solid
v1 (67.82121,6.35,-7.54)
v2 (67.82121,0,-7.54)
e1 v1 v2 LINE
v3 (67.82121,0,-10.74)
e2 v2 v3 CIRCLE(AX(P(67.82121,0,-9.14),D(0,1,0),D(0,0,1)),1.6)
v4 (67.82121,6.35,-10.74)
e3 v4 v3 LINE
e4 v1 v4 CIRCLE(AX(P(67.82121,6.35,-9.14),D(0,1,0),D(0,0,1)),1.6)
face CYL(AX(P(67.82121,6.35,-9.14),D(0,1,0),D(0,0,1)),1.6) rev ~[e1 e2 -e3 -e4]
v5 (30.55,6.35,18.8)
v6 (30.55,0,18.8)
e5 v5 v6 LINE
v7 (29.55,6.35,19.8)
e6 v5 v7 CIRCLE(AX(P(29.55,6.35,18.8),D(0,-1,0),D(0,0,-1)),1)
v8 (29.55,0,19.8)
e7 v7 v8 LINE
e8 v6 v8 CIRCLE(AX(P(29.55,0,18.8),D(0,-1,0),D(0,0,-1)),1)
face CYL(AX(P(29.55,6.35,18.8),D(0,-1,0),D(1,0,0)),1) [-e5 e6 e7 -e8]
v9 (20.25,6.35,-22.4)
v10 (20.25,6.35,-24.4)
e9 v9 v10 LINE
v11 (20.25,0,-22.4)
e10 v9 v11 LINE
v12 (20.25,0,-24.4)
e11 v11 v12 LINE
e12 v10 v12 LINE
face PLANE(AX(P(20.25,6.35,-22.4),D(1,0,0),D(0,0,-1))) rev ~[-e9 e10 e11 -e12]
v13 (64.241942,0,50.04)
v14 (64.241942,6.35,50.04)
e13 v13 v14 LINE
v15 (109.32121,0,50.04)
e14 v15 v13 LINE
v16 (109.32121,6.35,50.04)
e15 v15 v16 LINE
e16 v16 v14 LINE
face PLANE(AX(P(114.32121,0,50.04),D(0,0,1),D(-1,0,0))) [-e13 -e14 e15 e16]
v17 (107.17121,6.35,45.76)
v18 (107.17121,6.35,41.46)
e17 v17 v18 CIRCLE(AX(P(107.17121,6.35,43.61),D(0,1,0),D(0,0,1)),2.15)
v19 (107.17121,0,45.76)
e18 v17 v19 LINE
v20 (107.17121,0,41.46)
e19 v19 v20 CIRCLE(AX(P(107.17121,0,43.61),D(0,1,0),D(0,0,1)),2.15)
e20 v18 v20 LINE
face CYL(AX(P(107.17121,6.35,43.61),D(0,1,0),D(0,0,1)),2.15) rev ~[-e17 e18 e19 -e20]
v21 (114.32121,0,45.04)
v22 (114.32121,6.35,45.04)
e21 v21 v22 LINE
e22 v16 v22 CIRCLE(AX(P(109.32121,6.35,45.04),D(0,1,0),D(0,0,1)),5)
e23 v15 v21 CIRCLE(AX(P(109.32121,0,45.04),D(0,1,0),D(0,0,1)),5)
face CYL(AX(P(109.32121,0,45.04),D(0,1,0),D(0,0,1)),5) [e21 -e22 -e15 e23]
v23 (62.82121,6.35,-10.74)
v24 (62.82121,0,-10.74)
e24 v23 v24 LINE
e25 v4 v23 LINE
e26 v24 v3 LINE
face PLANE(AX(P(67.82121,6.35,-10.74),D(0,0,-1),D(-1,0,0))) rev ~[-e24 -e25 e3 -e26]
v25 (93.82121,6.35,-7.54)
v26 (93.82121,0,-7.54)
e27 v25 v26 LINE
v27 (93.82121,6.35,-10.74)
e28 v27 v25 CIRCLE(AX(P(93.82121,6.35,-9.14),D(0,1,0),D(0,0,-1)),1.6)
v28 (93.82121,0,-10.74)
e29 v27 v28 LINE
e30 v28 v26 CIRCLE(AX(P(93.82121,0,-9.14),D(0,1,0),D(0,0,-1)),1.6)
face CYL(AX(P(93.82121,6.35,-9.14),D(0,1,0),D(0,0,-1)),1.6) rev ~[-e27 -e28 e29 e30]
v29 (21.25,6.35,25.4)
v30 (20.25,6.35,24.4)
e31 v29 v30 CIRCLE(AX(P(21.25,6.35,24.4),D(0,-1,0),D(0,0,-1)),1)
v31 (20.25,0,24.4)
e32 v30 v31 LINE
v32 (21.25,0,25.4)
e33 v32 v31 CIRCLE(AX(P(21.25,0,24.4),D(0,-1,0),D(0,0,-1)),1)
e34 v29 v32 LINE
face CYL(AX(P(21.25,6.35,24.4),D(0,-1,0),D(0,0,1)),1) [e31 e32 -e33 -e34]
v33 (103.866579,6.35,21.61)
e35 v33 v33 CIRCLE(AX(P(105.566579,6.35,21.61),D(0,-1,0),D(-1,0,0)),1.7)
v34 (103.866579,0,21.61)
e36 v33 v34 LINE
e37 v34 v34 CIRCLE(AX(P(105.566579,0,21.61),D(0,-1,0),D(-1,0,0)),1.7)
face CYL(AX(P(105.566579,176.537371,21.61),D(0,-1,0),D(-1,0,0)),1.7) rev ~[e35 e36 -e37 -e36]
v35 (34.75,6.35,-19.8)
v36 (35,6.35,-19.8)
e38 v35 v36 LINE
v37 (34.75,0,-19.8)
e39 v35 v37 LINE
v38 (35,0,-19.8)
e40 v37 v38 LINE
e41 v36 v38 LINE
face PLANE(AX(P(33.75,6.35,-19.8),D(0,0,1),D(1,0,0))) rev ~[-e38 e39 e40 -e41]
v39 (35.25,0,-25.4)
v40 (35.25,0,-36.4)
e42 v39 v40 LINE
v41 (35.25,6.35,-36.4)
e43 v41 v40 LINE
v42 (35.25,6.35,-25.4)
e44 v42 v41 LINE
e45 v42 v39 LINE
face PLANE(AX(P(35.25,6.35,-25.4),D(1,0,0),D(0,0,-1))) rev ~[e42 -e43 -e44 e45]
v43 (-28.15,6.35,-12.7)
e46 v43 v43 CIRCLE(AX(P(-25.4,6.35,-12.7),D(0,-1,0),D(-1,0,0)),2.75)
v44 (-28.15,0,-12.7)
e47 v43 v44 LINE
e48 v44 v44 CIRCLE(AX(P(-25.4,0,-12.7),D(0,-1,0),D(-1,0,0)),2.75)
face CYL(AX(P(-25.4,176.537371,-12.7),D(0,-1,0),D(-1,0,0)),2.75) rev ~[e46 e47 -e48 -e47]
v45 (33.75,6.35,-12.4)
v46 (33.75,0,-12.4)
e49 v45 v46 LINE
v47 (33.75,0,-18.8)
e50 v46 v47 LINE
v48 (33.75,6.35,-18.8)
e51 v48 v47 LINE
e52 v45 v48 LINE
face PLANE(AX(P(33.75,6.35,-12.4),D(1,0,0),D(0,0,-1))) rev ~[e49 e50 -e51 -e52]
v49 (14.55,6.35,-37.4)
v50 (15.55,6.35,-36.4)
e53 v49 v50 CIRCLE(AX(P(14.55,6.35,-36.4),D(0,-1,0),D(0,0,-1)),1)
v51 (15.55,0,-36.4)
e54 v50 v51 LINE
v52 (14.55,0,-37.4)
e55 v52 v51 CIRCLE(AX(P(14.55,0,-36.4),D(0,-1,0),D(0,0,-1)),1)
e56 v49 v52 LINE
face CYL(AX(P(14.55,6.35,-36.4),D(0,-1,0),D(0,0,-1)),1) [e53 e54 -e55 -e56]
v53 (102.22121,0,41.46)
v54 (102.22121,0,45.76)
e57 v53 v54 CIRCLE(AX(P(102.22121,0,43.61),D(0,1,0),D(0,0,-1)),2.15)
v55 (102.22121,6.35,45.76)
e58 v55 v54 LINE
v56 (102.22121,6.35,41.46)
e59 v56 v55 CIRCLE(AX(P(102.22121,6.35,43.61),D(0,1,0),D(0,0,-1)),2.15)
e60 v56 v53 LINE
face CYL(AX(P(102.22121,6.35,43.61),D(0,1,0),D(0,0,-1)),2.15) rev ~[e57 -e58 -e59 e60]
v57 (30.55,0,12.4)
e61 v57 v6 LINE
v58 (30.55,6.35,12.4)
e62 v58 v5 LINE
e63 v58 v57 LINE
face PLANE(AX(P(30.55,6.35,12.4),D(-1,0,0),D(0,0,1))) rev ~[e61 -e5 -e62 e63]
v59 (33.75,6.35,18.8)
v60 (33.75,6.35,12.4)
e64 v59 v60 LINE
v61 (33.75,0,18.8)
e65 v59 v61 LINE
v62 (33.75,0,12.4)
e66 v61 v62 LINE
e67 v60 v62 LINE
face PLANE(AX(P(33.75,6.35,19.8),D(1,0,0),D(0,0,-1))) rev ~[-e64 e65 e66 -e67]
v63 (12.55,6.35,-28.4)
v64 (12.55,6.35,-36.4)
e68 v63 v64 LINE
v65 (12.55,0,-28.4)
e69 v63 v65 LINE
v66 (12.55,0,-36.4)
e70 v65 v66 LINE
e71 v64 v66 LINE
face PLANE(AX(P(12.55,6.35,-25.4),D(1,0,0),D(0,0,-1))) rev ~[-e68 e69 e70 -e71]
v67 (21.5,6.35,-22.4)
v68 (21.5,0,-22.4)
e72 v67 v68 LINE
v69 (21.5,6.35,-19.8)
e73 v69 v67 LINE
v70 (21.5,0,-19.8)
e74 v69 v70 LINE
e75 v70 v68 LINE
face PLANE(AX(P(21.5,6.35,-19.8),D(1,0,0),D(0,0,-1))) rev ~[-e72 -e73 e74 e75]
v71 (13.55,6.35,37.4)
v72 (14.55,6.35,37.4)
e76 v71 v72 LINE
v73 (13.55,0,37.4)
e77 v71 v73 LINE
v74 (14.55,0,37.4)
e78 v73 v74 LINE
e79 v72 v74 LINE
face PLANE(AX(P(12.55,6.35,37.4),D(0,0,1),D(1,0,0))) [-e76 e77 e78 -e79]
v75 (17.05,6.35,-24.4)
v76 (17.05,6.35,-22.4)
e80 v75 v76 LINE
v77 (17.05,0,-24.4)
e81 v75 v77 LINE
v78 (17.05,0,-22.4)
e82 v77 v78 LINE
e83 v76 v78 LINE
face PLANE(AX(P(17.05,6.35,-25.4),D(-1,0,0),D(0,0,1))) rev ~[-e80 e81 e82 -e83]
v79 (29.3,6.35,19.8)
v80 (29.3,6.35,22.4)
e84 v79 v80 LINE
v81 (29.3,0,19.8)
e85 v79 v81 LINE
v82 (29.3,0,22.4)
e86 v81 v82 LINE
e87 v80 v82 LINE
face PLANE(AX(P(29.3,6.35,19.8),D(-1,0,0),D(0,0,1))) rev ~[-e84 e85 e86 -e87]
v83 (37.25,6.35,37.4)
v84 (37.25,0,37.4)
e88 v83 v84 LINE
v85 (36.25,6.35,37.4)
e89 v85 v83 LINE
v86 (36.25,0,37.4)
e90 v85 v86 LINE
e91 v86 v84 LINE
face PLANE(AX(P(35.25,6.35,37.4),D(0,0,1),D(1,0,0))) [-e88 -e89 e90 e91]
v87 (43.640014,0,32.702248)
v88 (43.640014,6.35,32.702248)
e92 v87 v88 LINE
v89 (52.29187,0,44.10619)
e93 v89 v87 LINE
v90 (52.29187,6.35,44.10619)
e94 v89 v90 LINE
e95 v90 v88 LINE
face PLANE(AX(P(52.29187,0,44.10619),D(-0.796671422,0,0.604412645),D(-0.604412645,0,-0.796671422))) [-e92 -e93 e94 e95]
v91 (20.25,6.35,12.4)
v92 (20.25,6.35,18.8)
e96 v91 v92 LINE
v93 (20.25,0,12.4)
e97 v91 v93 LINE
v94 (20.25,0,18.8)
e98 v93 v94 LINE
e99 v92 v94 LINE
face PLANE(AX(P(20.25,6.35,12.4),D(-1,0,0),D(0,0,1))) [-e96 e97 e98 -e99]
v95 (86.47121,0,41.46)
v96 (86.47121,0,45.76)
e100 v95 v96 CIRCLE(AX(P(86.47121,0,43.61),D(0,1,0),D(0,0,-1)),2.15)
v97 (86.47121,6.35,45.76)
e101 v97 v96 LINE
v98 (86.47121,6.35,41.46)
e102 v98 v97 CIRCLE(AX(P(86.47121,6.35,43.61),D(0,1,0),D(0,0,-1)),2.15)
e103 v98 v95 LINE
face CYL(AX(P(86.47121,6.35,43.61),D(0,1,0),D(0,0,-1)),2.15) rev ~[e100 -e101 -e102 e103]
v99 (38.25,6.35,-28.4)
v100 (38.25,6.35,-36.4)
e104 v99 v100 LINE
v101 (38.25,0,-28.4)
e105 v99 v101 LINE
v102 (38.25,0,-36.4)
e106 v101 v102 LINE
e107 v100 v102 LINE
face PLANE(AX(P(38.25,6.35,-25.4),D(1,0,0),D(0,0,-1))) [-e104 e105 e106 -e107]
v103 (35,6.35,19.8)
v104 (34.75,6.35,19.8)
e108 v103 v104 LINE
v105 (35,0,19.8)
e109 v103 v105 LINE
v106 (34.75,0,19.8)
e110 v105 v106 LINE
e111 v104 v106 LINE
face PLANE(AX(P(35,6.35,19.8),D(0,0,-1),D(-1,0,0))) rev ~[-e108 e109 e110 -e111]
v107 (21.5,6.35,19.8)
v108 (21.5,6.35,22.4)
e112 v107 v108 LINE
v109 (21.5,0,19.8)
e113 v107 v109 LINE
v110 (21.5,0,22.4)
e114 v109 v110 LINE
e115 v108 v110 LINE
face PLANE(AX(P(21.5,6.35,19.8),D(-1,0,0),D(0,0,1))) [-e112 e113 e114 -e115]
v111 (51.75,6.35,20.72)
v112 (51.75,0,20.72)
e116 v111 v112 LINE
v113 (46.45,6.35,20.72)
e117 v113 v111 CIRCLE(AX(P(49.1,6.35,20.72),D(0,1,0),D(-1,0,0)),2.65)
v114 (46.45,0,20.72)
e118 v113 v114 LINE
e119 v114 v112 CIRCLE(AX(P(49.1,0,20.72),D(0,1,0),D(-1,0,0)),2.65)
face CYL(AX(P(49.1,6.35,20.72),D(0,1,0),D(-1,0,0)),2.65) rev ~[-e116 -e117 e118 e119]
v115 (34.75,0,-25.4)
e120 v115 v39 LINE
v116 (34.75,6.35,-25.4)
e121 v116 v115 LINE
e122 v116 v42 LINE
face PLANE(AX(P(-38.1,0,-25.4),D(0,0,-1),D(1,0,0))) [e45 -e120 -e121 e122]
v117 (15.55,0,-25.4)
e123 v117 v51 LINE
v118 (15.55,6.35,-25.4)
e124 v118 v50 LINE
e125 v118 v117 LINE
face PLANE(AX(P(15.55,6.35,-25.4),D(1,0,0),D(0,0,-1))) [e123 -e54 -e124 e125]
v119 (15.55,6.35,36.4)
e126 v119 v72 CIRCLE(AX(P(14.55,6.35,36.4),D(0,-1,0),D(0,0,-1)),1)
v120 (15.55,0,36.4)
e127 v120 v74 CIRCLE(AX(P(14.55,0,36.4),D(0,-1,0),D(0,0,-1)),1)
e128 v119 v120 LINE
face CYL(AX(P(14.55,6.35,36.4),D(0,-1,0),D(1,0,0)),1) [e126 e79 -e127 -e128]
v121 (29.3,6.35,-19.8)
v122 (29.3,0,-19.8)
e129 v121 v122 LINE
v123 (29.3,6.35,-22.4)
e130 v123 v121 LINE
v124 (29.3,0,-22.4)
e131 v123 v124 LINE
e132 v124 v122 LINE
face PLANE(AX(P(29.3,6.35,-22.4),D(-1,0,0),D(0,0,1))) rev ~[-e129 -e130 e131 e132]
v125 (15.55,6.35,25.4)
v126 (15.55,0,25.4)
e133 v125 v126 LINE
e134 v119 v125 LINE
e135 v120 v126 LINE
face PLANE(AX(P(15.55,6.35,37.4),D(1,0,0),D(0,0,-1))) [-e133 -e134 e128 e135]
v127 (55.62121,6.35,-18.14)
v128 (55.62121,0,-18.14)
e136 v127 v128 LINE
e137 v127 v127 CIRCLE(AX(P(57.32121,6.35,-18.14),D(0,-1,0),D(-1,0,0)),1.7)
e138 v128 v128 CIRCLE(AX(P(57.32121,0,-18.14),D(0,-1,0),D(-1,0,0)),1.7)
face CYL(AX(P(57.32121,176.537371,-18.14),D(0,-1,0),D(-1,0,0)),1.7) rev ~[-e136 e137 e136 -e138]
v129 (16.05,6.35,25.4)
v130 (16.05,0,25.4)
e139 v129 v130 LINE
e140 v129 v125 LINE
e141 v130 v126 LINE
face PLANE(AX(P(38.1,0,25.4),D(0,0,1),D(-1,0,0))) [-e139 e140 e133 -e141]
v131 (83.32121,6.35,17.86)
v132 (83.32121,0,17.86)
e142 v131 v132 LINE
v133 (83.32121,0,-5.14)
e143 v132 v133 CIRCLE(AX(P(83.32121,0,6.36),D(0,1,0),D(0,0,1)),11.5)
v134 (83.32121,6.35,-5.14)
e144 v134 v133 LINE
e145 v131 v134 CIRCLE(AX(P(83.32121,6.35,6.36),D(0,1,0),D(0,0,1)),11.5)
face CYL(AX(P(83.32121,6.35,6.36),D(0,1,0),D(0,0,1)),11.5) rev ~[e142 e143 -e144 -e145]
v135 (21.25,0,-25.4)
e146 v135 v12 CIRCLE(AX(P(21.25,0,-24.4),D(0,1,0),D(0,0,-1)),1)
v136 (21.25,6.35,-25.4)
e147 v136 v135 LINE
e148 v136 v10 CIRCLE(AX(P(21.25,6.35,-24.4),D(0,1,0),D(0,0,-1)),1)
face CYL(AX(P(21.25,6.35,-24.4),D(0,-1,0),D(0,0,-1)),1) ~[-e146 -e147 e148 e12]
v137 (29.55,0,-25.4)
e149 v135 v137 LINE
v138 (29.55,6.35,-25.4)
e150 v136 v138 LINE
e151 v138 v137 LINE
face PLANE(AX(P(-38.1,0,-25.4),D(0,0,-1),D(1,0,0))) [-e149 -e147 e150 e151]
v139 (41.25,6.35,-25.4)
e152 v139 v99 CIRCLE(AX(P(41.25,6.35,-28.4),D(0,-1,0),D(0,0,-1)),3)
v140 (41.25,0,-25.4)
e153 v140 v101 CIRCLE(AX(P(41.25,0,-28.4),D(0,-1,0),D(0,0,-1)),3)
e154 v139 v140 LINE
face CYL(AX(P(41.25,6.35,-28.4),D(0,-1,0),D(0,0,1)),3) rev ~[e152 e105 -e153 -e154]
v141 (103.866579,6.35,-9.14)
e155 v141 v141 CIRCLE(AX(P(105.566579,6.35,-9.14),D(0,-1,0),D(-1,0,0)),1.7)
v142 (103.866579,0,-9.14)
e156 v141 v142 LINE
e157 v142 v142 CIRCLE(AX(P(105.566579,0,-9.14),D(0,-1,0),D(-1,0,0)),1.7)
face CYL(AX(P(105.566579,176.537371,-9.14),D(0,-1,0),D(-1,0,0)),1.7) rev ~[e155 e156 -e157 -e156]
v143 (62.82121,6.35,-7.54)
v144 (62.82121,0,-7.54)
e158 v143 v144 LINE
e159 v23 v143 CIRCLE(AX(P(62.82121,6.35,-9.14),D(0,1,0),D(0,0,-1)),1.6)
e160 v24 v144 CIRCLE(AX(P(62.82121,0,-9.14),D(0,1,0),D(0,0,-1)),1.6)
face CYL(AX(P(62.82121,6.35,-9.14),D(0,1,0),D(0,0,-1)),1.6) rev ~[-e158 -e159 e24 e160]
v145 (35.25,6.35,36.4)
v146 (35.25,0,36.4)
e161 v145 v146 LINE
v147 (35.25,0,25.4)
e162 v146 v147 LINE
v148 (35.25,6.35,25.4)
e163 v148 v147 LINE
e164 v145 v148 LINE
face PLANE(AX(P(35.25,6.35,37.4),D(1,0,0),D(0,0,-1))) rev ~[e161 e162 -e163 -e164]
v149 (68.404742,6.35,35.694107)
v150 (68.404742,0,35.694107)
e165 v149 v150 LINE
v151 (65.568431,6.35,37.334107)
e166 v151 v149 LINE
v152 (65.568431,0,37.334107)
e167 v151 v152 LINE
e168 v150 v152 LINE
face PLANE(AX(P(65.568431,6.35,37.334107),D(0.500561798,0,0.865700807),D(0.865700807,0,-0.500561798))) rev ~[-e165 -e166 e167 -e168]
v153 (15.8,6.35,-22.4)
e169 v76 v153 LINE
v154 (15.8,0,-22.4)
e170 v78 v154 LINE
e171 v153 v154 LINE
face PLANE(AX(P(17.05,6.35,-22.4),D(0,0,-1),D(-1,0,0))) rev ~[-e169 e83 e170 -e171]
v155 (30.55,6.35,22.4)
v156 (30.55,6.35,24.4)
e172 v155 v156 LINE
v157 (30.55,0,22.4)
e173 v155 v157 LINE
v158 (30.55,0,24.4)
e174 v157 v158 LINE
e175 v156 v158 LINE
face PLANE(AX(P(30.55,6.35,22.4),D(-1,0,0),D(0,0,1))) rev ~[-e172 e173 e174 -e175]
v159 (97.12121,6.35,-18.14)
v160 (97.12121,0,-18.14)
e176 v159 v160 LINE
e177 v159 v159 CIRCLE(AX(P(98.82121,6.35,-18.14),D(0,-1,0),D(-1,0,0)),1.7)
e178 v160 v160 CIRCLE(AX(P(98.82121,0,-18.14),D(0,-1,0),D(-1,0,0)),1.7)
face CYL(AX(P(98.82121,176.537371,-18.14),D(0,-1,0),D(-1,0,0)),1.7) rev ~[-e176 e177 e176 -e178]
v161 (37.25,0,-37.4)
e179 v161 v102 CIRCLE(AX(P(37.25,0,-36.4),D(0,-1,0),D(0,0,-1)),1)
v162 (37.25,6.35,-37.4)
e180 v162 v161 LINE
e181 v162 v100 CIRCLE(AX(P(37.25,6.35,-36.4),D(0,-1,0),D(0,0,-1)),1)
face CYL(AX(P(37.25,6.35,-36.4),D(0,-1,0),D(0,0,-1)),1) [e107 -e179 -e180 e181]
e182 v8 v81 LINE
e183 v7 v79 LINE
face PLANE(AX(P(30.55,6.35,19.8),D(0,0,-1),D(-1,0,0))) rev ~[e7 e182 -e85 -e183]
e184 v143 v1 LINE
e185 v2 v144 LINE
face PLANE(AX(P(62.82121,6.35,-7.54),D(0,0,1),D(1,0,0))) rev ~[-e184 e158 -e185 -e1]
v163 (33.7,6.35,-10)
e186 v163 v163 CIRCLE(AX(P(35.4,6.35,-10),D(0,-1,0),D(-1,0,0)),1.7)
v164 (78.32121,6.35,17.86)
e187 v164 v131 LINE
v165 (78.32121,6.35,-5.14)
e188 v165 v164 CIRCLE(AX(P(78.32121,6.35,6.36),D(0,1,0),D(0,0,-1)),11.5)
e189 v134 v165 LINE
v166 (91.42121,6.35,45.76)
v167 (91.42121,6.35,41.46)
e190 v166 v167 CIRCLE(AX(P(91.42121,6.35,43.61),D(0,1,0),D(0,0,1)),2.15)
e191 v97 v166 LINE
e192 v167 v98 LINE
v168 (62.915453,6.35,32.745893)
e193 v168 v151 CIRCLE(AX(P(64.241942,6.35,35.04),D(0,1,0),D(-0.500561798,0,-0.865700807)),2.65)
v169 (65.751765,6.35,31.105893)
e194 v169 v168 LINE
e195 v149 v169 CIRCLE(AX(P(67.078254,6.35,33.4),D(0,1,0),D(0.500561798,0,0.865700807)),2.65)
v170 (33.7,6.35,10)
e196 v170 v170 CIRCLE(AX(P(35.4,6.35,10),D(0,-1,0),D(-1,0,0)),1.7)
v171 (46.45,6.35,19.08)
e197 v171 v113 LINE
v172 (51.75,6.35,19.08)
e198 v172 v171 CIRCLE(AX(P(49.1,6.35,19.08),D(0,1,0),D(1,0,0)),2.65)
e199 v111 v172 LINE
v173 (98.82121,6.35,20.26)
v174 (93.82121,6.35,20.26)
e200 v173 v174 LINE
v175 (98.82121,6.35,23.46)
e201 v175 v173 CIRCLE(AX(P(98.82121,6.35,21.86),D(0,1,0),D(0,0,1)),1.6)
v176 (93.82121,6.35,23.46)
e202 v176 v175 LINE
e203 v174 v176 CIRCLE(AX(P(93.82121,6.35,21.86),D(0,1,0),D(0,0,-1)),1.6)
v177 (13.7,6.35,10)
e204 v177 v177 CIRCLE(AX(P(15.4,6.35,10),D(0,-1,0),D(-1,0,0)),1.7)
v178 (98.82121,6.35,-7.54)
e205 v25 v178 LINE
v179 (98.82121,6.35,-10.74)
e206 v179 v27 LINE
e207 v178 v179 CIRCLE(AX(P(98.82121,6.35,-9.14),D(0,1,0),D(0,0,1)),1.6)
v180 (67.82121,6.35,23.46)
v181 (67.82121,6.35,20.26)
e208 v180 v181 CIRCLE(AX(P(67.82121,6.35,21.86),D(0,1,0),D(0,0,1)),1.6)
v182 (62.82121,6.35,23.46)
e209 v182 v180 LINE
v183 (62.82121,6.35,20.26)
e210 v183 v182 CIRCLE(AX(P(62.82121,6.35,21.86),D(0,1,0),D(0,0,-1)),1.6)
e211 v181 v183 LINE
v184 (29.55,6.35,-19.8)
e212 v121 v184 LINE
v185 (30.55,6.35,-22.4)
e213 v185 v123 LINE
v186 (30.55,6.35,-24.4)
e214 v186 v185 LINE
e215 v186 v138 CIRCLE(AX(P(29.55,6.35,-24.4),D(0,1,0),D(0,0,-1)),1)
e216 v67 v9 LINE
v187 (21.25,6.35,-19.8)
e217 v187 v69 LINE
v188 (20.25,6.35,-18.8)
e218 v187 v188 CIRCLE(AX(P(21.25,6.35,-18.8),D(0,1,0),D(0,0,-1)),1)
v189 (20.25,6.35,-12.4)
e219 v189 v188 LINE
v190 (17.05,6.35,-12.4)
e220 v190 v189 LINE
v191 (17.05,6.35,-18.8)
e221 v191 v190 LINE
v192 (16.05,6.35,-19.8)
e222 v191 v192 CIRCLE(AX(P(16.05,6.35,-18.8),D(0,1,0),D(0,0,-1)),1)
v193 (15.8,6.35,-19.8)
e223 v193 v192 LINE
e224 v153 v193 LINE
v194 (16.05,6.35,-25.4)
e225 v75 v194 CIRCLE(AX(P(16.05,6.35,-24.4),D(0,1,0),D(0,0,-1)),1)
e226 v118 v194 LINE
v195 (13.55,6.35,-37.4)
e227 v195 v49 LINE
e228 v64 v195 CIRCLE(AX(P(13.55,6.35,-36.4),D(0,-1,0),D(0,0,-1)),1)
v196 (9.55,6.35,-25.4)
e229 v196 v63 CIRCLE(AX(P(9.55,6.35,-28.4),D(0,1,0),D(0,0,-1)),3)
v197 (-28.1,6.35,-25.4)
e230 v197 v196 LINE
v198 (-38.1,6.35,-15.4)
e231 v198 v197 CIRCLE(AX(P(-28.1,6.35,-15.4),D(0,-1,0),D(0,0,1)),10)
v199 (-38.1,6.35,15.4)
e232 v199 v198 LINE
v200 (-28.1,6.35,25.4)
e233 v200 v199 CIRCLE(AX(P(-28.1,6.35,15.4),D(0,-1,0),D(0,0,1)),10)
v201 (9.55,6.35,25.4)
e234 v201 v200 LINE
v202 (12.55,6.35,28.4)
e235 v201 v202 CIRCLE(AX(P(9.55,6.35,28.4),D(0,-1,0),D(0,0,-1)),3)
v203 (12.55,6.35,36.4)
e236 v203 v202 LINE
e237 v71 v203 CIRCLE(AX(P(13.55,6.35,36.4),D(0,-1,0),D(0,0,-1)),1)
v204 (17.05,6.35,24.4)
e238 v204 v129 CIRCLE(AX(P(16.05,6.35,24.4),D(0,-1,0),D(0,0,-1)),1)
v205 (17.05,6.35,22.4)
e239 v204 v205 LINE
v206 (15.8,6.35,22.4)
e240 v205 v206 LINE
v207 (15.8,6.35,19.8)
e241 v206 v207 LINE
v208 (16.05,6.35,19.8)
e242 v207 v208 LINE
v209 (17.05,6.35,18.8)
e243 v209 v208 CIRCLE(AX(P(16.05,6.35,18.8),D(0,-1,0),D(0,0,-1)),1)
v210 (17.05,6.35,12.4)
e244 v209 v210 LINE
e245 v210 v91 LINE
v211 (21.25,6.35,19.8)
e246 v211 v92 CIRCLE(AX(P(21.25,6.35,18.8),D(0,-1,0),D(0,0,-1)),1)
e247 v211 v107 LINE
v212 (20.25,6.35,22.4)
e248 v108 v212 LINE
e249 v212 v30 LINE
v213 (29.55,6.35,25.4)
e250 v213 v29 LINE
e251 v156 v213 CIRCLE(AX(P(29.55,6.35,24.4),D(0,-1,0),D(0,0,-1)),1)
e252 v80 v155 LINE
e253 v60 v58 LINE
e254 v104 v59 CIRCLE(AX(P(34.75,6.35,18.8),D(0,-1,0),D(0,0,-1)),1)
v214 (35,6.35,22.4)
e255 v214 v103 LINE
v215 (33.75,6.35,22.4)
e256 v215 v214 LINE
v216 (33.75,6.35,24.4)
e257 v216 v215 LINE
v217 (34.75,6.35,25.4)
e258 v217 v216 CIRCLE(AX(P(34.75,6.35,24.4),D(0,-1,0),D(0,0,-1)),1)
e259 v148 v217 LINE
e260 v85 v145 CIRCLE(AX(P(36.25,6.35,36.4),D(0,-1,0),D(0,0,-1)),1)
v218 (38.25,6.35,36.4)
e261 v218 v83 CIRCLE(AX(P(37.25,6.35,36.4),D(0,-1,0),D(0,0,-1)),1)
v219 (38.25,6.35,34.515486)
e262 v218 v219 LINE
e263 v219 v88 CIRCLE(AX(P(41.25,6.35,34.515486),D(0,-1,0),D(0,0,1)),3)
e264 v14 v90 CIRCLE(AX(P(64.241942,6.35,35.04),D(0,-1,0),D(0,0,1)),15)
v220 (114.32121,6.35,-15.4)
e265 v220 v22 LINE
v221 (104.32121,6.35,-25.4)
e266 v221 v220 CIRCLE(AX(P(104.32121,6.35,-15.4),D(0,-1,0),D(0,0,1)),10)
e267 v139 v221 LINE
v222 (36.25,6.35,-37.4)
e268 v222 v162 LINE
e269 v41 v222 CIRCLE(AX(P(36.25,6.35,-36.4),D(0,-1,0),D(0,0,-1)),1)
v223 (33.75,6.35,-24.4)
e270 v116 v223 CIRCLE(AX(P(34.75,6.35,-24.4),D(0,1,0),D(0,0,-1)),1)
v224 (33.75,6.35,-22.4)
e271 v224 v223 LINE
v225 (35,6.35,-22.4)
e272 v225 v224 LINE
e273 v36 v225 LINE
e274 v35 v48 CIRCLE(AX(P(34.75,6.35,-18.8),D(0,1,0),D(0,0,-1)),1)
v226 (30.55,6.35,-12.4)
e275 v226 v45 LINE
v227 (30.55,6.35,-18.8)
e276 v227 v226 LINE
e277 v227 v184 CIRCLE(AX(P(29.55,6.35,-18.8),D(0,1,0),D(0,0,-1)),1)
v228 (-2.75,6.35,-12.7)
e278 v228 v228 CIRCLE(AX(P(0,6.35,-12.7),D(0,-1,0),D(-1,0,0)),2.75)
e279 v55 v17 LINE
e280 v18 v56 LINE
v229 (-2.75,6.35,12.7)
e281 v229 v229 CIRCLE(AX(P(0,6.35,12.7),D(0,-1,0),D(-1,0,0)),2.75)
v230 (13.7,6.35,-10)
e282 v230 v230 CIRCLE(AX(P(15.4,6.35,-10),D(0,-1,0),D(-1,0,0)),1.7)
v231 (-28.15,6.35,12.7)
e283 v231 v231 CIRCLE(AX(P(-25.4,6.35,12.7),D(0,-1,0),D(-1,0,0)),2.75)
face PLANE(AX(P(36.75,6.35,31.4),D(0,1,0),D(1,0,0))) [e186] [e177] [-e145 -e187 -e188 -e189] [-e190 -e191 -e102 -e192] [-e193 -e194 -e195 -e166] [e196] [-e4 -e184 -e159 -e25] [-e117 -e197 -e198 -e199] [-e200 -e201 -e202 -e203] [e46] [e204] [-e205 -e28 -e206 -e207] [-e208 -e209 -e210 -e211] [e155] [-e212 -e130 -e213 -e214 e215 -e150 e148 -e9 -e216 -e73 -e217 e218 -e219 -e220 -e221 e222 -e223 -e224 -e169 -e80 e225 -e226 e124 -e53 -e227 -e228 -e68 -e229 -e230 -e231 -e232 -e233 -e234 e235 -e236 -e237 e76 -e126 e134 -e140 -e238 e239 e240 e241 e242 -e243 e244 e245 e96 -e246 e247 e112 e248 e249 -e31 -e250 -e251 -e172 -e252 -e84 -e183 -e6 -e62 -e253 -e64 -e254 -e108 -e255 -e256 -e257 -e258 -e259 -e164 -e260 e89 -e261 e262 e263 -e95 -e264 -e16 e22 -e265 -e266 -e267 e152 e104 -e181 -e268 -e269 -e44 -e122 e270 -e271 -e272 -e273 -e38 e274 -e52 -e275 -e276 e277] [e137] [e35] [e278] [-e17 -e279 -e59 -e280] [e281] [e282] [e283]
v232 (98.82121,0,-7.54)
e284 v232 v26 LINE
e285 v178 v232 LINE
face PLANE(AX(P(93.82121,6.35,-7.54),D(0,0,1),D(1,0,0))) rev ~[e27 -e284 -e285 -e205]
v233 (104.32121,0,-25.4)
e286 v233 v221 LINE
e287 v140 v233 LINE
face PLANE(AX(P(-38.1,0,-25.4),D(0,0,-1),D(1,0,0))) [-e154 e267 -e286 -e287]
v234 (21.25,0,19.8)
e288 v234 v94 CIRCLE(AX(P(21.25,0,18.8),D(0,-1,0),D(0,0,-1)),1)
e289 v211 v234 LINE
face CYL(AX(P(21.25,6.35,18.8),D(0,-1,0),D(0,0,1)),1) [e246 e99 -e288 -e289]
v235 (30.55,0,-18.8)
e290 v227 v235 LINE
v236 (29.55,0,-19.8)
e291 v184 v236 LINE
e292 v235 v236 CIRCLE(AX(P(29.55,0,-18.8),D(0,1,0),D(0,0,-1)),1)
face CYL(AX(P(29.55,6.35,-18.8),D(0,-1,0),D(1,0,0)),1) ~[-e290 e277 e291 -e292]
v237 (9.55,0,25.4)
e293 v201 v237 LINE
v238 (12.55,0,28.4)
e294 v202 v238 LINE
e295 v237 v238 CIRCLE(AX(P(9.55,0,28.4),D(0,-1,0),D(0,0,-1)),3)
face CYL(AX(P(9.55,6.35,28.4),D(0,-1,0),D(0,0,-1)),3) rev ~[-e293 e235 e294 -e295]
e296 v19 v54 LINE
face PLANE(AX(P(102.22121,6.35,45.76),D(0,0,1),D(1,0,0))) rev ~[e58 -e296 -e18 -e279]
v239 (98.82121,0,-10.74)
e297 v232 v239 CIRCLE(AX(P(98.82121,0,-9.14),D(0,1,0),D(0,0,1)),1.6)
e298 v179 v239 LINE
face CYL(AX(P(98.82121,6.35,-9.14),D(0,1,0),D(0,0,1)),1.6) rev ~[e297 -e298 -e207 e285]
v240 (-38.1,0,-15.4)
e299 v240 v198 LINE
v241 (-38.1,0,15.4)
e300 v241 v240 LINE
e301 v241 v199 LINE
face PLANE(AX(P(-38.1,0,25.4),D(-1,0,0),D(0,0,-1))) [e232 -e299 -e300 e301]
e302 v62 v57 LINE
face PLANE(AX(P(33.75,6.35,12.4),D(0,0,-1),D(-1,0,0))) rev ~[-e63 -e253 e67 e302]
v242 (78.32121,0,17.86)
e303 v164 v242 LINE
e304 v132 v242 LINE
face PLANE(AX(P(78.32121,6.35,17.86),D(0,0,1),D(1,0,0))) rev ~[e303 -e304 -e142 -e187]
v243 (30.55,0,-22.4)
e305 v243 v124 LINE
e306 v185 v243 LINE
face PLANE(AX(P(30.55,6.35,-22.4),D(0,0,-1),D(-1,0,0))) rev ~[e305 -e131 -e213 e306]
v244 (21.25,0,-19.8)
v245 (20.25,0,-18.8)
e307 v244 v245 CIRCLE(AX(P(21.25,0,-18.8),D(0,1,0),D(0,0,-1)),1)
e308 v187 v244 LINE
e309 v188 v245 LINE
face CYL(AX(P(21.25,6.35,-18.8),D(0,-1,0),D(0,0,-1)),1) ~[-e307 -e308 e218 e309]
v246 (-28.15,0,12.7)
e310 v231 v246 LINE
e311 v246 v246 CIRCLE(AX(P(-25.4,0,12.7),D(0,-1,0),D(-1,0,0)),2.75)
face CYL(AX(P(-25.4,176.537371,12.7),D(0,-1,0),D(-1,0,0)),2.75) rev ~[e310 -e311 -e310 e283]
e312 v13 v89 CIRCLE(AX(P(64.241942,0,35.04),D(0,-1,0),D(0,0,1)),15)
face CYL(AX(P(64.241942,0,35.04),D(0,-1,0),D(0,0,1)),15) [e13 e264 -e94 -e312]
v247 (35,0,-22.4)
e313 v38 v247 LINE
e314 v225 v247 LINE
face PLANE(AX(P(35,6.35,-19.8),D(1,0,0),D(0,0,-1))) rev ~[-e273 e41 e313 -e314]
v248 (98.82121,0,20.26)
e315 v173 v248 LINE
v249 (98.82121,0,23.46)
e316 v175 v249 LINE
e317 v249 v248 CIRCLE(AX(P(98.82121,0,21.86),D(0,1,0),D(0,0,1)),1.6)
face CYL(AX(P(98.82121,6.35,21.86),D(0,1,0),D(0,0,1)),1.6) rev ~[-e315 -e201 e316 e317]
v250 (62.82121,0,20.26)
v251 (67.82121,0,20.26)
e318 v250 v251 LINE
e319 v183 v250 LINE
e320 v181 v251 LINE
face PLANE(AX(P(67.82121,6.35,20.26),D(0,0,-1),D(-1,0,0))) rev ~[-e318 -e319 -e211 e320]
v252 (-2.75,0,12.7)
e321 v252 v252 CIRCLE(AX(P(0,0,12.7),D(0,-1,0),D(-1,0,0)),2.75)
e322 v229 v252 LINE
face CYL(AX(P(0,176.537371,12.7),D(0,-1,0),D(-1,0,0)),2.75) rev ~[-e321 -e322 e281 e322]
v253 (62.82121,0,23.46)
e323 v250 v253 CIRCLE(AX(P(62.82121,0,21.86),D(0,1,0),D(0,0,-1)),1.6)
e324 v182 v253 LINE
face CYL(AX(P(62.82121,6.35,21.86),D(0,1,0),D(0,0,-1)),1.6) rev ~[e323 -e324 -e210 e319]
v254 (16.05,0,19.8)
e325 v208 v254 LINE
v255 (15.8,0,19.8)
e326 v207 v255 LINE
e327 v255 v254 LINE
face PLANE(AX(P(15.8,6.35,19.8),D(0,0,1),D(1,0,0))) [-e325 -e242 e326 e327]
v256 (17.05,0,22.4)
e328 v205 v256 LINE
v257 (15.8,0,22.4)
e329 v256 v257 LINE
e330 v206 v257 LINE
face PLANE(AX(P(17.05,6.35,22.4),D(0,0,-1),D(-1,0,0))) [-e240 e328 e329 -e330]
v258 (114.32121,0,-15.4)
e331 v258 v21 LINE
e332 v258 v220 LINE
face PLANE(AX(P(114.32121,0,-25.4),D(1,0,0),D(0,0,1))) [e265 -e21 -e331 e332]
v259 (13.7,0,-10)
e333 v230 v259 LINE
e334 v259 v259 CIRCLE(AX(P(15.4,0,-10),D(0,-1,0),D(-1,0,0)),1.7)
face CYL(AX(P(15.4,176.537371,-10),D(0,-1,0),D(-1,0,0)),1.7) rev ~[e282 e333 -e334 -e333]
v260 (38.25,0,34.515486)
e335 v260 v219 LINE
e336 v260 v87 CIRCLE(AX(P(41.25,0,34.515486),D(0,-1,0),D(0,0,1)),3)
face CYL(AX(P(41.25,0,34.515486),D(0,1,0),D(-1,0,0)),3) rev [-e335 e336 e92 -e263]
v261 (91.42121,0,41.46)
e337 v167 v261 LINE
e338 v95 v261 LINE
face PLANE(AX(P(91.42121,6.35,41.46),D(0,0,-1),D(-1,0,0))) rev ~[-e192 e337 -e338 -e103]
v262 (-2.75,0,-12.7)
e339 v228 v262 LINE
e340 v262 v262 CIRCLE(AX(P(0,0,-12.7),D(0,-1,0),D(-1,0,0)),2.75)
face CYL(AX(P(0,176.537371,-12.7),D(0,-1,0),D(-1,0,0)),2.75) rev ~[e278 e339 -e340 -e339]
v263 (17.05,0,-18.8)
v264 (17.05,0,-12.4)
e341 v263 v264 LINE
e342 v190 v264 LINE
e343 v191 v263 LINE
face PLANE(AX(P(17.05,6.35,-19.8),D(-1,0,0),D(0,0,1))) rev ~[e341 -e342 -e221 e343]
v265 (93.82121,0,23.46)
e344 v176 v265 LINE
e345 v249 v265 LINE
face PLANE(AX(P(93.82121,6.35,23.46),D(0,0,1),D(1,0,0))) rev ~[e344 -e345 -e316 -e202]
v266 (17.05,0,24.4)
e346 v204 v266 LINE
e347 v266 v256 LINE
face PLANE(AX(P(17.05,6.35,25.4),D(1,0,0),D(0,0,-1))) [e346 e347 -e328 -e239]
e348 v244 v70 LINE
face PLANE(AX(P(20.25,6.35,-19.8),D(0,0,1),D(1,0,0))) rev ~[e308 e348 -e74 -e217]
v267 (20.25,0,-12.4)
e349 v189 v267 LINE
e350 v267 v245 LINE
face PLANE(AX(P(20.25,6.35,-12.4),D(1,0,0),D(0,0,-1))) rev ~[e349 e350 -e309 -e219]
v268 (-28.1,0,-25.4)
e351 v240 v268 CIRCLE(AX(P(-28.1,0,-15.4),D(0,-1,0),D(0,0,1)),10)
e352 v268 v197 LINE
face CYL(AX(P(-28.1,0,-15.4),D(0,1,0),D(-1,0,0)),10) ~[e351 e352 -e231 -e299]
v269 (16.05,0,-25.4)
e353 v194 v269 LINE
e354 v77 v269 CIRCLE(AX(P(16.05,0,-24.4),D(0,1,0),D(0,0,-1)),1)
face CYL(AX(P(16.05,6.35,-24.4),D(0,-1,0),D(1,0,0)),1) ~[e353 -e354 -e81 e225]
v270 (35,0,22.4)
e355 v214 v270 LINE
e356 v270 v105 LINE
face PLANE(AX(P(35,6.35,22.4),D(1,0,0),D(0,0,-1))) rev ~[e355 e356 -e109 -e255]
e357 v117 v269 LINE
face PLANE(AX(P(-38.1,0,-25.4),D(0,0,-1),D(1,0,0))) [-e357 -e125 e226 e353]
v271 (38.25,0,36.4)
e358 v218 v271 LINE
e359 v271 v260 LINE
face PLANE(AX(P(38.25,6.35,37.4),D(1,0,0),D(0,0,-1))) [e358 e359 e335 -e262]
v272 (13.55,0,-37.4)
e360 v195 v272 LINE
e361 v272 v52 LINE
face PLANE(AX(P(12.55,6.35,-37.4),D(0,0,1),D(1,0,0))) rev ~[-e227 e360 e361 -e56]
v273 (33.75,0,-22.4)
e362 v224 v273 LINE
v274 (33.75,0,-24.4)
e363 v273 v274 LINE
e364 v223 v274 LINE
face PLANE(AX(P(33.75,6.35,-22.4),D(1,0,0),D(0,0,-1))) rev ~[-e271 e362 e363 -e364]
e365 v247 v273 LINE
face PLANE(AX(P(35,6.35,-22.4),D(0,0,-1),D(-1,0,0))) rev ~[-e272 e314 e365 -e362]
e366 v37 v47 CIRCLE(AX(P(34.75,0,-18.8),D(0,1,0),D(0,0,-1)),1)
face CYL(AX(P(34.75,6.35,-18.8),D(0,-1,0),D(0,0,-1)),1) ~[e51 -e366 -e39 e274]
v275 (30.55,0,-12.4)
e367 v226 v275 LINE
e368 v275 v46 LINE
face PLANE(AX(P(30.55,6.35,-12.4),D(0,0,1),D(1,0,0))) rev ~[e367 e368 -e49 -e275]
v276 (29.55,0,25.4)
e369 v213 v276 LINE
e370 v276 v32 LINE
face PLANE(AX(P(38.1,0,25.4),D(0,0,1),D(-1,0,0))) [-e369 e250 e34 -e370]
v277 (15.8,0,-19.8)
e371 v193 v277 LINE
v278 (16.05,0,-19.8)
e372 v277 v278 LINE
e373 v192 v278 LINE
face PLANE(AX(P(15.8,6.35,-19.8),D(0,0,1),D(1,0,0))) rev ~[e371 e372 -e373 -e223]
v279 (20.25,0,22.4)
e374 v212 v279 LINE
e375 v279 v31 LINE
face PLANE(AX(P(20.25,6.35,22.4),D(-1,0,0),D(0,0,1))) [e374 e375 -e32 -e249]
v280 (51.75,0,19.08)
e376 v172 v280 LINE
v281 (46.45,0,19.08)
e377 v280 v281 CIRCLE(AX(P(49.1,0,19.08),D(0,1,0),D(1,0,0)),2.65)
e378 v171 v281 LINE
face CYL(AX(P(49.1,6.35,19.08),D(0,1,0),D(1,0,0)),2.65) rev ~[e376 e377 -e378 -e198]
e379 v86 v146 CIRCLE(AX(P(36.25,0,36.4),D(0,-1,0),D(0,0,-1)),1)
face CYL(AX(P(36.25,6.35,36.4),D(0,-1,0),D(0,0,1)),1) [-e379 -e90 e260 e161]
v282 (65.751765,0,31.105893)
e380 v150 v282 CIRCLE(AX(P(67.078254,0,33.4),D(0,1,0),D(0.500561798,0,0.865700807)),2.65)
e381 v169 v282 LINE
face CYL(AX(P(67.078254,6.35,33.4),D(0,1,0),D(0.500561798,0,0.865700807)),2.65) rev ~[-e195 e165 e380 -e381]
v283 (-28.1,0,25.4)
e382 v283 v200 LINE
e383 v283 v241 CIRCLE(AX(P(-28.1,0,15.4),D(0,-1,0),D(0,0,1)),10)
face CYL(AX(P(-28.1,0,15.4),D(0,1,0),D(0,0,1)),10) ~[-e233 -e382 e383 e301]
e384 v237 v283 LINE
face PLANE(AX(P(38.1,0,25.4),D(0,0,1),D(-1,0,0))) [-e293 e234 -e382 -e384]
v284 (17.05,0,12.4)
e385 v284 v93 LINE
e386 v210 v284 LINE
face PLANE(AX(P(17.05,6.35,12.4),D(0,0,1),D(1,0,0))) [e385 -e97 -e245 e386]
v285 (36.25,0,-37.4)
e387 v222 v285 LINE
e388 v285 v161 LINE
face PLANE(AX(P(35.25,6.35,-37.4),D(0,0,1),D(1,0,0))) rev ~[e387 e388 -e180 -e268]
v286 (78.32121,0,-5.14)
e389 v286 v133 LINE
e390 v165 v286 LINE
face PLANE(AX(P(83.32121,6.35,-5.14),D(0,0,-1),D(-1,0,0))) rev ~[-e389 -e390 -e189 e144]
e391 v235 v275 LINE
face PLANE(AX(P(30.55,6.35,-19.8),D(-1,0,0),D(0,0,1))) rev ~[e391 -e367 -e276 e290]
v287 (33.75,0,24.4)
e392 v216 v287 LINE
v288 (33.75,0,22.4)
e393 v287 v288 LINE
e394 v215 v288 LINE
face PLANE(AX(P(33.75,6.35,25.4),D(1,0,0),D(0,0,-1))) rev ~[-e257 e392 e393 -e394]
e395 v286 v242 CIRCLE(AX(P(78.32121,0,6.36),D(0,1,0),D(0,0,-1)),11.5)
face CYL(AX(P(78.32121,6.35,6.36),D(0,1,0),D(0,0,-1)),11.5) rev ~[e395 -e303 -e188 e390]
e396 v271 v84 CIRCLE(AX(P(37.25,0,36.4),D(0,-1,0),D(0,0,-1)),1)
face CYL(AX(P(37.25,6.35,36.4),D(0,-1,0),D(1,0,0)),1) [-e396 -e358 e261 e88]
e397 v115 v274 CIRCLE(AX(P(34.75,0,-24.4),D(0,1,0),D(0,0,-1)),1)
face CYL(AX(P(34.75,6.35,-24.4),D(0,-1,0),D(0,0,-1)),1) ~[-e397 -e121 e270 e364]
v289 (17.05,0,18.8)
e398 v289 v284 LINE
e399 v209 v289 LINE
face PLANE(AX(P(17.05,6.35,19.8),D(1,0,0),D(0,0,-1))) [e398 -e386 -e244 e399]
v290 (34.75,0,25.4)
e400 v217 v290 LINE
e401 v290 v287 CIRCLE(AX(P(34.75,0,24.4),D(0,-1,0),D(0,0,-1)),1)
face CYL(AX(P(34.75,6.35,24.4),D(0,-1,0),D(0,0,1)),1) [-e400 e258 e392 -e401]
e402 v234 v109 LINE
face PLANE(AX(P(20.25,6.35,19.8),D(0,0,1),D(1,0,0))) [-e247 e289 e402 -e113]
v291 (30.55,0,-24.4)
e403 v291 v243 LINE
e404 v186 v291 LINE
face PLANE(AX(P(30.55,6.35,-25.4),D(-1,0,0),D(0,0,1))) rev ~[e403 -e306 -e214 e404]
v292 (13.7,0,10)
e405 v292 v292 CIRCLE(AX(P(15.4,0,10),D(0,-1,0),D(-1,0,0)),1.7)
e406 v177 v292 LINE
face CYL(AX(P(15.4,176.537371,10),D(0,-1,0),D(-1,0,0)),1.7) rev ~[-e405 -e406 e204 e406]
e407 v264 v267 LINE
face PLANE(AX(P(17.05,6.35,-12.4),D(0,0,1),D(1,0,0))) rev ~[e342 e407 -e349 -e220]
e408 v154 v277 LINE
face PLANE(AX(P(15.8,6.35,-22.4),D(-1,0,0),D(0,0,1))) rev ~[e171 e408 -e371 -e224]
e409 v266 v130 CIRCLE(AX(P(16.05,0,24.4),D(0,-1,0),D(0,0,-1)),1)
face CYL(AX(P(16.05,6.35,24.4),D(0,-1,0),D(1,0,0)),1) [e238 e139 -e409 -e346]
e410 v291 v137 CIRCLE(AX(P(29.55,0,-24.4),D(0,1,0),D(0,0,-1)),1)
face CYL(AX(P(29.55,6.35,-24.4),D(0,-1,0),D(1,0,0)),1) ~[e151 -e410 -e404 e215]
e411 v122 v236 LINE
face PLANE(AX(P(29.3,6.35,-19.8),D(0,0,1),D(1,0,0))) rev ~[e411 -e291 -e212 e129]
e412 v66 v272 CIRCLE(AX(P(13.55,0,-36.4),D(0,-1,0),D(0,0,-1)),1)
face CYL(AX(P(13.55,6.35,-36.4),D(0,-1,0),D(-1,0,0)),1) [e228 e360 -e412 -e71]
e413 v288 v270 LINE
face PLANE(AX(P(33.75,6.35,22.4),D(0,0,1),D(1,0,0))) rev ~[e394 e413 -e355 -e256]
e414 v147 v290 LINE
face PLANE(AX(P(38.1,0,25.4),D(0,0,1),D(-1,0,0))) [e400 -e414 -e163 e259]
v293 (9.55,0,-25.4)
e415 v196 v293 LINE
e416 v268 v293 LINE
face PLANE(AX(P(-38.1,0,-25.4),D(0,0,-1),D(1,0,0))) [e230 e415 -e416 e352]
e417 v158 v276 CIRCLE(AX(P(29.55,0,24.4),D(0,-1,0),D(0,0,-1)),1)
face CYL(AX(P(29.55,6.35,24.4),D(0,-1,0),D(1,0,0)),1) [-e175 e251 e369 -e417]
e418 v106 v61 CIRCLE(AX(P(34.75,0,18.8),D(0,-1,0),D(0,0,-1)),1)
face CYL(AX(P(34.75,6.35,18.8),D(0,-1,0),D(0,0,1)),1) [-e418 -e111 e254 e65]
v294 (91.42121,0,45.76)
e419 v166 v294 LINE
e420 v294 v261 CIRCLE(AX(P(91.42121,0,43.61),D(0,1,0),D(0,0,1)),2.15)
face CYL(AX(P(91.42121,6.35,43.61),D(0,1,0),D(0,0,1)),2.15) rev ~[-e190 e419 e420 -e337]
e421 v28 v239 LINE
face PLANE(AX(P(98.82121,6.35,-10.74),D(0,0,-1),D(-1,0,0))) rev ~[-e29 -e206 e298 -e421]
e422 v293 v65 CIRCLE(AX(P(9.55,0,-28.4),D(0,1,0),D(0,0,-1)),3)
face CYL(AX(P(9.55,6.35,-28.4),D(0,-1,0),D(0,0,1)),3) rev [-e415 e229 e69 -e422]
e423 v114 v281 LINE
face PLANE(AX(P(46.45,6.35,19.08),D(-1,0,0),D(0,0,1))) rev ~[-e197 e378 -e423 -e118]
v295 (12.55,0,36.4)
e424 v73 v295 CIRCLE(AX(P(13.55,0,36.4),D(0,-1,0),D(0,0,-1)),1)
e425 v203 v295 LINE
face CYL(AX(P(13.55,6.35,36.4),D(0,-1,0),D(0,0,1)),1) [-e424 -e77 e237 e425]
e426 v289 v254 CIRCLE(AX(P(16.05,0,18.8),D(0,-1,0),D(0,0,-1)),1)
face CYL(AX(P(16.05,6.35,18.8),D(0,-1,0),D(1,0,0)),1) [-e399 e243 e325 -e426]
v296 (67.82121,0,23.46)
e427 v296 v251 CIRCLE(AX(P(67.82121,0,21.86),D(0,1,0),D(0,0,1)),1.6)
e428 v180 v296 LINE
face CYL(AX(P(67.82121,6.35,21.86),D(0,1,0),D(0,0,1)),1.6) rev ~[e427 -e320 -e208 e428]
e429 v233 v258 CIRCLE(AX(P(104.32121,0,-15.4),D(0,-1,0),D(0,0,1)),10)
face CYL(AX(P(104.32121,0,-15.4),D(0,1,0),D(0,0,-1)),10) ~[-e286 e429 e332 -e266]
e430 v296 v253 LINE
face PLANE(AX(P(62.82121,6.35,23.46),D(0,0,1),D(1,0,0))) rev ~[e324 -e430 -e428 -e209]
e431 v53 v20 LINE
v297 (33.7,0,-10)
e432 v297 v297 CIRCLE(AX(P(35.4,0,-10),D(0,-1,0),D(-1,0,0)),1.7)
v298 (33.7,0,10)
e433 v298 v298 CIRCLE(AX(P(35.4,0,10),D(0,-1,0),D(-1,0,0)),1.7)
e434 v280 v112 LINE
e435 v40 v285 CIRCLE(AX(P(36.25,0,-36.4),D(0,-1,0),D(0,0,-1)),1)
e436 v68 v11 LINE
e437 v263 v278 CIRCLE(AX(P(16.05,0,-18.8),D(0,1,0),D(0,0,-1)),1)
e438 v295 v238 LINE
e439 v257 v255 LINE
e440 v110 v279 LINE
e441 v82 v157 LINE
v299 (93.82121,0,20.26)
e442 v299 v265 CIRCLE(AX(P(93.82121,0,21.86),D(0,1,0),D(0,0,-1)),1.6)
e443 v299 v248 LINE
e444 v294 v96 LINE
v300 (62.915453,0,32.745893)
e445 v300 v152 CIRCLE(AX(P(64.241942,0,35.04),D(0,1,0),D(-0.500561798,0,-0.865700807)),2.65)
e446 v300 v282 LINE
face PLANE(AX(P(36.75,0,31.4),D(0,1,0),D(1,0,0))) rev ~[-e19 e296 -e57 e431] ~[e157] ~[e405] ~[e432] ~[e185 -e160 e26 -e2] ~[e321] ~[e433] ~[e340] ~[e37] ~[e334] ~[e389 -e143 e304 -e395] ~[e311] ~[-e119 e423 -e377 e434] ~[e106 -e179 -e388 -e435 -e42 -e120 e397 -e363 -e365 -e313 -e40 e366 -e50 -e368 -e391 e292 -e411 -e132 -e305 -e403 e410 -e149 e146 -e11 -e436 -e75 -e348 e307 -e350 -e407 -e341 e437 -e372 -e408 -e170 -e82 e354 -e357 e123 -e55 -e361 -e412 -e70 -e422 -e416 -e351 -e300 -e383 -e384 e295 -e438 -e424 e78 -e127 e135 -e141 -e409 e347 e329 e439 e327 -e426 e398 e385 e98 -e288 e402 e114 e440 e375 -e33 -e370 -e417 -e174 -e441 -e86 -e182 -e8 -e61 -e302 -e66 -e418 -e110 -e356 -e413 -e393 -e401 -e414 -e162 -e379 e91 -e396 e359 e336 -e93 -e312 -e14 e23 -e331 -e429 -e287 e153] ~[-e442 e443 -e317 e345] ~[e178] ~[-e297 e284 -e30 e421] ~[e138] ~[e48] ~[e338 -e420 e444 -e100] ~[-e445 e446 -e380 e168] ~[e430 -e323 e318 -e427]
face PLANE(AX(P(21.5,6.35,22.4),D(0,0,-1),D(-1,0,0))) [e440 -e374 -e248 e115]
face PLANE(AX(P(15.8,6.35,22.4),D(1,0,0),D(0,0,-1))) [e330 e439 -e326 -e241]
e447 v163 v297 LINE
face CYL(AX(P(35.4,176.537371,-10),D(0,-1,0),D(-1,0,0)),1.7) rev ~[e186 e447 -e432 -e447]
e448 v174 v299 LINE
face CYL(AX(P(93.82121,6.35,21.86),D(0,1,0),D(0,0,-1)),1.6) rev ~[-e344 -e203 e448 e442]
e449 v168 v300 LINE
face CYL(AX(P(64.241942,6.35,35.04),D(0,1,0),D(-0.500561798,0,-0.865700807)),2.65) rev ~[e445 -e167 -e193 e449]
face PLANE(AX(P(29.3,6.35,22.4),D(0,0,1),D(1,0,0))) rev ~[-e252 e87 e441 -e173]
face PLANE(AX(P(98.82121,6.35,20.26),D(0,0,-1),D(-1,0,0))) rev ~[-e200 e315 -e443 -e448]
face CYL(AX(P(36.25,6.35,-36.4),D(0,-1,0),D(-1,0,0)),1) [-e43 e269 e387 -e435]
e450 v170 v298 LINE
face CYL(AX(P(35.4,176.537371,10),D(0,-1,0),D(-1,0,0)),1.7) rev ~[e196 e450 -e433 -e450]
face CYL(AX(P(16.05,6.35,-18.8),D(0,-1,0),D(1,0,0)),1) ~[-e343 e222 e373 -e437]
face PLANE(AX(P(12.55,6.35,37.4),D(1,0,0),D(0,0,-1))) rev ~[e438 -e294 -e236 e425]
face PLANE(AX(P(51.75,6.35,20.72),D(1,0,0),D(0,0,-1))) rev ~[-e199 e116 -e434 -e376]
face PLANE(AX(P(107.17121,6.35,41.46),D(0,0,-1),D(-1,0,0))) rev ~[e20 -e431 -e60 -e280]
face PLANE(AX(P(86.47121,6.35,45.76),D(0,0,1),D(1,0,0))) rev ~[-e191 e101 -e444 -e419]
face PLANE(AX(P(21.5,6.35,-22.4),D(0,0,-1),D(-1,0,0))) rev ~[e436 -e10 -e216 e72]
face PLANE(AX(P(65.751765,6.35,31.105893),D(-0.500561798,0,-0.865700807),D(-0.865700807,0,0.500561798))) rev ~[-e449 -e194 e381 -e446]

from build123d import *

# Parameters (mm, degrees)
BOSS_EXTRUDE1_DEPTH  = 6.35
M5_CLEARANCE_HOLE1_D = 5.5
M3_CLEARANCE_HOLE1_D = 3.4
CUT_EXTRUDE1_DEPTH   = 7.35
CUT_EXTRUDE2_DEPTH   = 7.35
FILLET1_R            = 10
CUT_EXTRUDE3_DEPTH   = 7.35
M3_CLEARANCE_HOLE2_D = 3.4
FILLET3_R            = 5
SKETCH13_W           = 3
SKETCH13_H           = 12
BOSS_EXTRUDE2_DEPTH  = 6.35
FILLET4_R            = 3
CUT_EXTRUDE4_DEPTH   = 7.35
FILLET5_R            = 1
FILLET6_R            = 1


with BuildPart() as part:
    # Sketch1 → Boss-Extrude1 (new body)
    with BuildSketch(Plane(origin=(0, 0, 0), x_dir=(1, 0, 0), z_dir=(0, 1, 0))):
        with BuildLine():
            Line((38.1, -25.4), (-38.1, -25.4))
            Line((-38.1, -25.4), (-38.1, 25.4))
            Line((-38.1, 25.4), (38.1, 25.4))
            Line((38.1, 25.4), (114.321209859, 25.4))
            Line((114.321209859, 25.4), (114.321209859, -50.04))
            Line((114.321209859, -50.04), (64.241941751, -50.04))
            ThreePointArc((64.241941751, -50.04), (57.570841587, -48.474895705), (52.291870426, -44.10618968))
            Line((52.291870426, -44.10618968), (38.1, -25.4))
        make_face()
    extrude(amount=BOSS_EXTRUDE1_DEPTH)

    # M5 Clearance Hole1 (through all)
    with Locations(Plane(origin=(0, 6.35, 0), x_dir=(1, 0, 0), z_dir=(0, 1, 0))):
        with Locations((-25.4, 12.7), (0, 12.7), (0, -12.7), (-25.4, -12.7)):
            Hole(M5_CLEARANCE_HOLE1_D / 2)

    # M3 Clearance Hole1 (through all)
    with Locations(Plane(origin=(0, 6.35, 0), x_dir=(1, 0, 0), z_dir=(0, 1, 0))):
        with Locations((15.4, 10), (35.4, 10), (35.4, -10), (15.4, -10)):
            Hole(M3_CLEARANCE_HOLE1_D / 2)

    # Sketch6 → Cut-Extrude1 (cut, through all)
    with BuildSketch(Plane(origin=(0, 6.35, 0), x_dir=(1, 0, 0), z_dir=(0, 1, 0))):
        with BuildLine():
            Line((62.821209859, 7.54), (67.821209859, 7.54))
            ThreePointArc((67.821209859, 7.54), (69.421209859, 9.14), (67.821209859, 10.74))
            Line((67.821209859, 10.74), (62.821209859, 10.74))
            ThreePointArc((62.821209859, 10.74), (61.221209859, 9.14), (62.821209859, 7.54))
        make_face()
        with BuildLine():
            Line((62.821209859, -23.46), (67.821209859, -23.46))
            ThreePointArc((67.821209859, -23.46), (69.421209859, -21.86), (67.821209859, -20.26))
            Line((67.821209859, -20.26), (62.821209859, -20.26))
            ThreePointArc((62.821209859, -20.26), (61.221209859, -21.86), (62.821209859, -23.46))
        make_face()
        with BuildLine():
            Line((93.821209859, -23.46), (98.821209859, -23.46))
            ThreePointArc((98.821209859, -23.46), (100.421209859, -21.86), (98.821209859, -20.26))
            Line((98.821209859, -20.26), (93.821209859, -20.26))
            ThreePointArc((93.821209859, -20.26), (92.221209859, -21.86), (93.821209859, -23.46))
        make_face()
        with BuildLine():
            Line((93.821209859, 7.54), (98.821209859, 7.54))
            ThreePointArc((98.821209859, 7.54), (100.421209859, 9.14), (98.821209859, 10.74))
            Line((98.821209859, 10.74), (93.821209859, 10.74))
            ThreePointArc((93.821209859, 10.74), (92.221209859, 9.14), (93.821209859, 7.54))
        make_face()
        with BuildLine():
            Line((78.321209859, -17.86), (83.321209859, -17.86))
            ThreePointArc((83.321209859, -17.86), (94.821209859, -6.36), (83.321209859, 5.14))
            Line((83.321209859, 5.14), (78.321209859, 5.14))
            ThreePointArc((78.321209859, 5.14), (66.821209859, -6.36), (78.321209859, -17.86))
        make_face()
    extrude(amount=-CUT_EXTRUDE1_DEPTH, mode=Mode.SUBTRACT)

    # Sketch7 → Cut-Extrude2 (cut, through all)
    with BuildSketch(Plane(origin=(0, 6.35, 0), x_dir=(1, 0, 0), z_dir=(0, 1, 0))):
        with BuildLine():
            Line((65.751764766, -31.105892862), (62.915452987, -32.745892862))
            ThreePointArc((62.915452987, -32.745892862), (61.947834614, -36.366488764), (65.568430515, -37.334107138))
            Line((65.568430515, -37.334107138), (68.404742294, -35.694107138))
            ThreePointArc((68.404742294, -35.694107138), (69.372360668, -32.073511236), (65.751764766, -31.105892862))
        make_face()
        with BuildLine():
            Line((46.45, -19.08), (46.45, -20.72))
            ThreePointArc((46.45, -20.72), (49.1, -23.37), (51.75, -20.72))
            Line((51.75, -20.72), (51.75, -19.08))
            ThreePointArc((51.75, -19.08), (49.1, -16.43), (46.45, -19.08))
        make_face()
    extrude(amount=-CUT_EXTRUDE2_DEPTH, mode=Mode.SUBTRACT)

    # Fillet1
    fillet1_edges = [part.edges().sort_by_distance(p)[0] for p in [
        (-38.1, 3.175, -25.4),
        (114.321209859, 3.175, -25.4),
        (-38.1, 3.175, 25.4),
    ]]
    fillet(fillet1_edges, radius=FILLET1_R)

    # Sketch8 → Cut-Extrude3 (cut, through all)
    with BuildSketch(Plane(origin=(0, 6.35, 0), x_dir=(1, 0, 0), z_dir=(0, 1, 0))):
        with BuildLine():
            Line((107.171209859, -41.46), (102.221209859, -41.46))
            ThreePointArc((102.221209859, -41.46), (100.071209859, -43.61), (102.221209859, -45.76))
            Line((102.221209859, -45.76), (107.171209859, -45.76))
            ThreePointArc((107.171209859, -45.76), (109.321209859, -43.61), (107.171209859, -41.46))
        make_face()
        with BuildLine():
            Line((86.471209859, -45.76), (91.421209859, -45.76))
            ThreePointArc((91.421209859, -45.76), (93.571209859, -43.61), (91.421209859, -41.46))
            Line((91.421209859, -41.46), (86.471209859, -41.46))
            ThreePointArc((86.471209859, -41.46), (84.321209859, -43.61), (86.471209859, -45.76))
        make_face()
    extrude(amount=-CUT_EXTRUDE3_DEPTH, mode=Mode.SUBTRACT)

    # M3 Clearance Hole2 (through all)
    with Locations(Plane(origin=(0, 6.35, 0), x_dir=(1, 0, 0), z_dir=(0, 1, 0))):
        with Locations((57.321209859, 18.14), (98.821209859, 18.14), (105.566578641, 9.14), (105.566578641, -21.61)):
            Hole(M3_CLEARANCE_HOLE2_D / 2)

    # Fillet3
    fillet3_edges = [part.edges().sort_by_distance(p)[0] for p in [
        (114.321209859, 3.175, 50.04),
    ]]
    fillet(fillet3_edges, radius=FILLET3_R)

    # Sketch13 → Boss-Extrude2 (add)
    with BuildSketch(Plane(origin=(0, 6.35, 0), x_dir=(1, 0, 0), z_dir=(0, 1, 0))):
        with Locations((36.75, 31.4)):
            Rectangle(SKETCH13_W, SKETCH13_H)
        with Locations((14.05, 31.4)):
            Rectangle(SKETCH13_W, SKETCH13_H)
        with Locations((14.05, -31.4)):
            Rectangle(SKETCH13_W, SKETCH13_H)
        with Locations((36.75, -31.4)):
            Rectangle(SKETCH13_W, SKETCH13_H)
    extrude(amount=-BOSS_EXTRUDE2_DEPTH)

    # Fillet4
    fillet4_edges = [part.edges().sort_by_distance(p)[0] for p in [
        (38.25, 3.175, -25.4),
        (12.55, 3.175, -25.4),
        (12.55, 3.175, 25.4),
        (38.25, 3.175, 25.597713787),
    ]]
    fillet(fillet4_edges, radius=FILLET4_R)

    # Sketch14 → Cut-Extrude4 (cut, through all)
    with BuildSketch(Plane(origin=(0, 6.35, 0), x_dir=(1, 0, 0), z_dir=(0, 1, 0))):
        Polygon((17.05, 12.4), (20.25, 12.4), (20.25, 19.8), (21.5, 19.8), (21.5, 22.4), (20.25, 22.4), (20.25, 25.4), (17.05, 25.4), (17.05, 22.4), (15.8, 22.4), (15.8, 19.8), (17.05, 19.8), align=None)
        Polygon((35, 22.4), (33.75, 22.4), (33.75, 25.4), (30.55, 25.4), (30.55, 22.4), (29.3, 22.4), (29.3, 19.8), (30.55, 19.8), (30.55, 12.4), (33.75, 12.4), (33.75, 19.8), (35, 19.8), align=None)
        Polygon((21.5, -22.4), (20.25, -22.4), (20.25, -25.4), (17.05, -25.4), (17.05, -22.4), (15.8, -22.4), (15.8, -19.8), (17.05, -19.8), (17.05, -12.4), (20.25, -12.4), (20.25, -19.8), (21.5, -19.8), align=None)
        Polygon((30.55, -19.8), (29.3, -19.8), (29.3, -22.4), (30.55, -22.4), (30.55, -25.4), (33.75, -25.4), (33.75, -22.4), (35, -22.4), (35, -19.8), (33.75, -19.8), (33.75, -12.4), (30.55, -12.4), align=None)
    extrude(amount=-CUT_EXTRUDE4_DEPTH, mode=Mode.SUBTRACT)

    # Fillet5
    fillet5_edges = [part.edges().sort_by_distance(p)[0] for p in [
        (35.25, 3.175, -37.4),
        (38.25, 3.175, -37.4),
        (12.55, 3.175, -37.4),
        (15.55, 3.175, -37.4),
        (15.55, 3.175, 37.4),
        (12.55, 3.175, 37.4),
        (38.25, 3.175, 37.4),
        (35.25, 3.175, 37.4),
        (20.25, 3.175, 25.4),
        (17.05, 3.175, 25.4),
        (17.05, 3.175, 19.8),
        (20.25, 3.175, 19.8),
        (30.55, 3.175, 19.8),
        (33.75, 3.175, 19.8),
        (33.75, 3.175, 25.4),
        (30.55, 3.175, 25.4),
    ]]
    fillet(fillet5_edges, radius=FILLET5_R)

    # Fillet6
    fillet6_edges = [part.edges().sort_by_distance(p)[0] for p in [
        (20.25, 3.175, -19.8),
        (17.05, 3.175, -19.8),
        (17.05, 3.175, -25.4),
        (20.25, 3.175, -25.4),
        (33.75, 3.175, -19.8),
        (30.55, 3.175, -19.8),
        (30.55, 3.175, -25.4),
        (33.75, 3.175, -25.4),
    ]]
    fillet(fillet6_edges, radius=FILLET6_R)


solid = part.part
